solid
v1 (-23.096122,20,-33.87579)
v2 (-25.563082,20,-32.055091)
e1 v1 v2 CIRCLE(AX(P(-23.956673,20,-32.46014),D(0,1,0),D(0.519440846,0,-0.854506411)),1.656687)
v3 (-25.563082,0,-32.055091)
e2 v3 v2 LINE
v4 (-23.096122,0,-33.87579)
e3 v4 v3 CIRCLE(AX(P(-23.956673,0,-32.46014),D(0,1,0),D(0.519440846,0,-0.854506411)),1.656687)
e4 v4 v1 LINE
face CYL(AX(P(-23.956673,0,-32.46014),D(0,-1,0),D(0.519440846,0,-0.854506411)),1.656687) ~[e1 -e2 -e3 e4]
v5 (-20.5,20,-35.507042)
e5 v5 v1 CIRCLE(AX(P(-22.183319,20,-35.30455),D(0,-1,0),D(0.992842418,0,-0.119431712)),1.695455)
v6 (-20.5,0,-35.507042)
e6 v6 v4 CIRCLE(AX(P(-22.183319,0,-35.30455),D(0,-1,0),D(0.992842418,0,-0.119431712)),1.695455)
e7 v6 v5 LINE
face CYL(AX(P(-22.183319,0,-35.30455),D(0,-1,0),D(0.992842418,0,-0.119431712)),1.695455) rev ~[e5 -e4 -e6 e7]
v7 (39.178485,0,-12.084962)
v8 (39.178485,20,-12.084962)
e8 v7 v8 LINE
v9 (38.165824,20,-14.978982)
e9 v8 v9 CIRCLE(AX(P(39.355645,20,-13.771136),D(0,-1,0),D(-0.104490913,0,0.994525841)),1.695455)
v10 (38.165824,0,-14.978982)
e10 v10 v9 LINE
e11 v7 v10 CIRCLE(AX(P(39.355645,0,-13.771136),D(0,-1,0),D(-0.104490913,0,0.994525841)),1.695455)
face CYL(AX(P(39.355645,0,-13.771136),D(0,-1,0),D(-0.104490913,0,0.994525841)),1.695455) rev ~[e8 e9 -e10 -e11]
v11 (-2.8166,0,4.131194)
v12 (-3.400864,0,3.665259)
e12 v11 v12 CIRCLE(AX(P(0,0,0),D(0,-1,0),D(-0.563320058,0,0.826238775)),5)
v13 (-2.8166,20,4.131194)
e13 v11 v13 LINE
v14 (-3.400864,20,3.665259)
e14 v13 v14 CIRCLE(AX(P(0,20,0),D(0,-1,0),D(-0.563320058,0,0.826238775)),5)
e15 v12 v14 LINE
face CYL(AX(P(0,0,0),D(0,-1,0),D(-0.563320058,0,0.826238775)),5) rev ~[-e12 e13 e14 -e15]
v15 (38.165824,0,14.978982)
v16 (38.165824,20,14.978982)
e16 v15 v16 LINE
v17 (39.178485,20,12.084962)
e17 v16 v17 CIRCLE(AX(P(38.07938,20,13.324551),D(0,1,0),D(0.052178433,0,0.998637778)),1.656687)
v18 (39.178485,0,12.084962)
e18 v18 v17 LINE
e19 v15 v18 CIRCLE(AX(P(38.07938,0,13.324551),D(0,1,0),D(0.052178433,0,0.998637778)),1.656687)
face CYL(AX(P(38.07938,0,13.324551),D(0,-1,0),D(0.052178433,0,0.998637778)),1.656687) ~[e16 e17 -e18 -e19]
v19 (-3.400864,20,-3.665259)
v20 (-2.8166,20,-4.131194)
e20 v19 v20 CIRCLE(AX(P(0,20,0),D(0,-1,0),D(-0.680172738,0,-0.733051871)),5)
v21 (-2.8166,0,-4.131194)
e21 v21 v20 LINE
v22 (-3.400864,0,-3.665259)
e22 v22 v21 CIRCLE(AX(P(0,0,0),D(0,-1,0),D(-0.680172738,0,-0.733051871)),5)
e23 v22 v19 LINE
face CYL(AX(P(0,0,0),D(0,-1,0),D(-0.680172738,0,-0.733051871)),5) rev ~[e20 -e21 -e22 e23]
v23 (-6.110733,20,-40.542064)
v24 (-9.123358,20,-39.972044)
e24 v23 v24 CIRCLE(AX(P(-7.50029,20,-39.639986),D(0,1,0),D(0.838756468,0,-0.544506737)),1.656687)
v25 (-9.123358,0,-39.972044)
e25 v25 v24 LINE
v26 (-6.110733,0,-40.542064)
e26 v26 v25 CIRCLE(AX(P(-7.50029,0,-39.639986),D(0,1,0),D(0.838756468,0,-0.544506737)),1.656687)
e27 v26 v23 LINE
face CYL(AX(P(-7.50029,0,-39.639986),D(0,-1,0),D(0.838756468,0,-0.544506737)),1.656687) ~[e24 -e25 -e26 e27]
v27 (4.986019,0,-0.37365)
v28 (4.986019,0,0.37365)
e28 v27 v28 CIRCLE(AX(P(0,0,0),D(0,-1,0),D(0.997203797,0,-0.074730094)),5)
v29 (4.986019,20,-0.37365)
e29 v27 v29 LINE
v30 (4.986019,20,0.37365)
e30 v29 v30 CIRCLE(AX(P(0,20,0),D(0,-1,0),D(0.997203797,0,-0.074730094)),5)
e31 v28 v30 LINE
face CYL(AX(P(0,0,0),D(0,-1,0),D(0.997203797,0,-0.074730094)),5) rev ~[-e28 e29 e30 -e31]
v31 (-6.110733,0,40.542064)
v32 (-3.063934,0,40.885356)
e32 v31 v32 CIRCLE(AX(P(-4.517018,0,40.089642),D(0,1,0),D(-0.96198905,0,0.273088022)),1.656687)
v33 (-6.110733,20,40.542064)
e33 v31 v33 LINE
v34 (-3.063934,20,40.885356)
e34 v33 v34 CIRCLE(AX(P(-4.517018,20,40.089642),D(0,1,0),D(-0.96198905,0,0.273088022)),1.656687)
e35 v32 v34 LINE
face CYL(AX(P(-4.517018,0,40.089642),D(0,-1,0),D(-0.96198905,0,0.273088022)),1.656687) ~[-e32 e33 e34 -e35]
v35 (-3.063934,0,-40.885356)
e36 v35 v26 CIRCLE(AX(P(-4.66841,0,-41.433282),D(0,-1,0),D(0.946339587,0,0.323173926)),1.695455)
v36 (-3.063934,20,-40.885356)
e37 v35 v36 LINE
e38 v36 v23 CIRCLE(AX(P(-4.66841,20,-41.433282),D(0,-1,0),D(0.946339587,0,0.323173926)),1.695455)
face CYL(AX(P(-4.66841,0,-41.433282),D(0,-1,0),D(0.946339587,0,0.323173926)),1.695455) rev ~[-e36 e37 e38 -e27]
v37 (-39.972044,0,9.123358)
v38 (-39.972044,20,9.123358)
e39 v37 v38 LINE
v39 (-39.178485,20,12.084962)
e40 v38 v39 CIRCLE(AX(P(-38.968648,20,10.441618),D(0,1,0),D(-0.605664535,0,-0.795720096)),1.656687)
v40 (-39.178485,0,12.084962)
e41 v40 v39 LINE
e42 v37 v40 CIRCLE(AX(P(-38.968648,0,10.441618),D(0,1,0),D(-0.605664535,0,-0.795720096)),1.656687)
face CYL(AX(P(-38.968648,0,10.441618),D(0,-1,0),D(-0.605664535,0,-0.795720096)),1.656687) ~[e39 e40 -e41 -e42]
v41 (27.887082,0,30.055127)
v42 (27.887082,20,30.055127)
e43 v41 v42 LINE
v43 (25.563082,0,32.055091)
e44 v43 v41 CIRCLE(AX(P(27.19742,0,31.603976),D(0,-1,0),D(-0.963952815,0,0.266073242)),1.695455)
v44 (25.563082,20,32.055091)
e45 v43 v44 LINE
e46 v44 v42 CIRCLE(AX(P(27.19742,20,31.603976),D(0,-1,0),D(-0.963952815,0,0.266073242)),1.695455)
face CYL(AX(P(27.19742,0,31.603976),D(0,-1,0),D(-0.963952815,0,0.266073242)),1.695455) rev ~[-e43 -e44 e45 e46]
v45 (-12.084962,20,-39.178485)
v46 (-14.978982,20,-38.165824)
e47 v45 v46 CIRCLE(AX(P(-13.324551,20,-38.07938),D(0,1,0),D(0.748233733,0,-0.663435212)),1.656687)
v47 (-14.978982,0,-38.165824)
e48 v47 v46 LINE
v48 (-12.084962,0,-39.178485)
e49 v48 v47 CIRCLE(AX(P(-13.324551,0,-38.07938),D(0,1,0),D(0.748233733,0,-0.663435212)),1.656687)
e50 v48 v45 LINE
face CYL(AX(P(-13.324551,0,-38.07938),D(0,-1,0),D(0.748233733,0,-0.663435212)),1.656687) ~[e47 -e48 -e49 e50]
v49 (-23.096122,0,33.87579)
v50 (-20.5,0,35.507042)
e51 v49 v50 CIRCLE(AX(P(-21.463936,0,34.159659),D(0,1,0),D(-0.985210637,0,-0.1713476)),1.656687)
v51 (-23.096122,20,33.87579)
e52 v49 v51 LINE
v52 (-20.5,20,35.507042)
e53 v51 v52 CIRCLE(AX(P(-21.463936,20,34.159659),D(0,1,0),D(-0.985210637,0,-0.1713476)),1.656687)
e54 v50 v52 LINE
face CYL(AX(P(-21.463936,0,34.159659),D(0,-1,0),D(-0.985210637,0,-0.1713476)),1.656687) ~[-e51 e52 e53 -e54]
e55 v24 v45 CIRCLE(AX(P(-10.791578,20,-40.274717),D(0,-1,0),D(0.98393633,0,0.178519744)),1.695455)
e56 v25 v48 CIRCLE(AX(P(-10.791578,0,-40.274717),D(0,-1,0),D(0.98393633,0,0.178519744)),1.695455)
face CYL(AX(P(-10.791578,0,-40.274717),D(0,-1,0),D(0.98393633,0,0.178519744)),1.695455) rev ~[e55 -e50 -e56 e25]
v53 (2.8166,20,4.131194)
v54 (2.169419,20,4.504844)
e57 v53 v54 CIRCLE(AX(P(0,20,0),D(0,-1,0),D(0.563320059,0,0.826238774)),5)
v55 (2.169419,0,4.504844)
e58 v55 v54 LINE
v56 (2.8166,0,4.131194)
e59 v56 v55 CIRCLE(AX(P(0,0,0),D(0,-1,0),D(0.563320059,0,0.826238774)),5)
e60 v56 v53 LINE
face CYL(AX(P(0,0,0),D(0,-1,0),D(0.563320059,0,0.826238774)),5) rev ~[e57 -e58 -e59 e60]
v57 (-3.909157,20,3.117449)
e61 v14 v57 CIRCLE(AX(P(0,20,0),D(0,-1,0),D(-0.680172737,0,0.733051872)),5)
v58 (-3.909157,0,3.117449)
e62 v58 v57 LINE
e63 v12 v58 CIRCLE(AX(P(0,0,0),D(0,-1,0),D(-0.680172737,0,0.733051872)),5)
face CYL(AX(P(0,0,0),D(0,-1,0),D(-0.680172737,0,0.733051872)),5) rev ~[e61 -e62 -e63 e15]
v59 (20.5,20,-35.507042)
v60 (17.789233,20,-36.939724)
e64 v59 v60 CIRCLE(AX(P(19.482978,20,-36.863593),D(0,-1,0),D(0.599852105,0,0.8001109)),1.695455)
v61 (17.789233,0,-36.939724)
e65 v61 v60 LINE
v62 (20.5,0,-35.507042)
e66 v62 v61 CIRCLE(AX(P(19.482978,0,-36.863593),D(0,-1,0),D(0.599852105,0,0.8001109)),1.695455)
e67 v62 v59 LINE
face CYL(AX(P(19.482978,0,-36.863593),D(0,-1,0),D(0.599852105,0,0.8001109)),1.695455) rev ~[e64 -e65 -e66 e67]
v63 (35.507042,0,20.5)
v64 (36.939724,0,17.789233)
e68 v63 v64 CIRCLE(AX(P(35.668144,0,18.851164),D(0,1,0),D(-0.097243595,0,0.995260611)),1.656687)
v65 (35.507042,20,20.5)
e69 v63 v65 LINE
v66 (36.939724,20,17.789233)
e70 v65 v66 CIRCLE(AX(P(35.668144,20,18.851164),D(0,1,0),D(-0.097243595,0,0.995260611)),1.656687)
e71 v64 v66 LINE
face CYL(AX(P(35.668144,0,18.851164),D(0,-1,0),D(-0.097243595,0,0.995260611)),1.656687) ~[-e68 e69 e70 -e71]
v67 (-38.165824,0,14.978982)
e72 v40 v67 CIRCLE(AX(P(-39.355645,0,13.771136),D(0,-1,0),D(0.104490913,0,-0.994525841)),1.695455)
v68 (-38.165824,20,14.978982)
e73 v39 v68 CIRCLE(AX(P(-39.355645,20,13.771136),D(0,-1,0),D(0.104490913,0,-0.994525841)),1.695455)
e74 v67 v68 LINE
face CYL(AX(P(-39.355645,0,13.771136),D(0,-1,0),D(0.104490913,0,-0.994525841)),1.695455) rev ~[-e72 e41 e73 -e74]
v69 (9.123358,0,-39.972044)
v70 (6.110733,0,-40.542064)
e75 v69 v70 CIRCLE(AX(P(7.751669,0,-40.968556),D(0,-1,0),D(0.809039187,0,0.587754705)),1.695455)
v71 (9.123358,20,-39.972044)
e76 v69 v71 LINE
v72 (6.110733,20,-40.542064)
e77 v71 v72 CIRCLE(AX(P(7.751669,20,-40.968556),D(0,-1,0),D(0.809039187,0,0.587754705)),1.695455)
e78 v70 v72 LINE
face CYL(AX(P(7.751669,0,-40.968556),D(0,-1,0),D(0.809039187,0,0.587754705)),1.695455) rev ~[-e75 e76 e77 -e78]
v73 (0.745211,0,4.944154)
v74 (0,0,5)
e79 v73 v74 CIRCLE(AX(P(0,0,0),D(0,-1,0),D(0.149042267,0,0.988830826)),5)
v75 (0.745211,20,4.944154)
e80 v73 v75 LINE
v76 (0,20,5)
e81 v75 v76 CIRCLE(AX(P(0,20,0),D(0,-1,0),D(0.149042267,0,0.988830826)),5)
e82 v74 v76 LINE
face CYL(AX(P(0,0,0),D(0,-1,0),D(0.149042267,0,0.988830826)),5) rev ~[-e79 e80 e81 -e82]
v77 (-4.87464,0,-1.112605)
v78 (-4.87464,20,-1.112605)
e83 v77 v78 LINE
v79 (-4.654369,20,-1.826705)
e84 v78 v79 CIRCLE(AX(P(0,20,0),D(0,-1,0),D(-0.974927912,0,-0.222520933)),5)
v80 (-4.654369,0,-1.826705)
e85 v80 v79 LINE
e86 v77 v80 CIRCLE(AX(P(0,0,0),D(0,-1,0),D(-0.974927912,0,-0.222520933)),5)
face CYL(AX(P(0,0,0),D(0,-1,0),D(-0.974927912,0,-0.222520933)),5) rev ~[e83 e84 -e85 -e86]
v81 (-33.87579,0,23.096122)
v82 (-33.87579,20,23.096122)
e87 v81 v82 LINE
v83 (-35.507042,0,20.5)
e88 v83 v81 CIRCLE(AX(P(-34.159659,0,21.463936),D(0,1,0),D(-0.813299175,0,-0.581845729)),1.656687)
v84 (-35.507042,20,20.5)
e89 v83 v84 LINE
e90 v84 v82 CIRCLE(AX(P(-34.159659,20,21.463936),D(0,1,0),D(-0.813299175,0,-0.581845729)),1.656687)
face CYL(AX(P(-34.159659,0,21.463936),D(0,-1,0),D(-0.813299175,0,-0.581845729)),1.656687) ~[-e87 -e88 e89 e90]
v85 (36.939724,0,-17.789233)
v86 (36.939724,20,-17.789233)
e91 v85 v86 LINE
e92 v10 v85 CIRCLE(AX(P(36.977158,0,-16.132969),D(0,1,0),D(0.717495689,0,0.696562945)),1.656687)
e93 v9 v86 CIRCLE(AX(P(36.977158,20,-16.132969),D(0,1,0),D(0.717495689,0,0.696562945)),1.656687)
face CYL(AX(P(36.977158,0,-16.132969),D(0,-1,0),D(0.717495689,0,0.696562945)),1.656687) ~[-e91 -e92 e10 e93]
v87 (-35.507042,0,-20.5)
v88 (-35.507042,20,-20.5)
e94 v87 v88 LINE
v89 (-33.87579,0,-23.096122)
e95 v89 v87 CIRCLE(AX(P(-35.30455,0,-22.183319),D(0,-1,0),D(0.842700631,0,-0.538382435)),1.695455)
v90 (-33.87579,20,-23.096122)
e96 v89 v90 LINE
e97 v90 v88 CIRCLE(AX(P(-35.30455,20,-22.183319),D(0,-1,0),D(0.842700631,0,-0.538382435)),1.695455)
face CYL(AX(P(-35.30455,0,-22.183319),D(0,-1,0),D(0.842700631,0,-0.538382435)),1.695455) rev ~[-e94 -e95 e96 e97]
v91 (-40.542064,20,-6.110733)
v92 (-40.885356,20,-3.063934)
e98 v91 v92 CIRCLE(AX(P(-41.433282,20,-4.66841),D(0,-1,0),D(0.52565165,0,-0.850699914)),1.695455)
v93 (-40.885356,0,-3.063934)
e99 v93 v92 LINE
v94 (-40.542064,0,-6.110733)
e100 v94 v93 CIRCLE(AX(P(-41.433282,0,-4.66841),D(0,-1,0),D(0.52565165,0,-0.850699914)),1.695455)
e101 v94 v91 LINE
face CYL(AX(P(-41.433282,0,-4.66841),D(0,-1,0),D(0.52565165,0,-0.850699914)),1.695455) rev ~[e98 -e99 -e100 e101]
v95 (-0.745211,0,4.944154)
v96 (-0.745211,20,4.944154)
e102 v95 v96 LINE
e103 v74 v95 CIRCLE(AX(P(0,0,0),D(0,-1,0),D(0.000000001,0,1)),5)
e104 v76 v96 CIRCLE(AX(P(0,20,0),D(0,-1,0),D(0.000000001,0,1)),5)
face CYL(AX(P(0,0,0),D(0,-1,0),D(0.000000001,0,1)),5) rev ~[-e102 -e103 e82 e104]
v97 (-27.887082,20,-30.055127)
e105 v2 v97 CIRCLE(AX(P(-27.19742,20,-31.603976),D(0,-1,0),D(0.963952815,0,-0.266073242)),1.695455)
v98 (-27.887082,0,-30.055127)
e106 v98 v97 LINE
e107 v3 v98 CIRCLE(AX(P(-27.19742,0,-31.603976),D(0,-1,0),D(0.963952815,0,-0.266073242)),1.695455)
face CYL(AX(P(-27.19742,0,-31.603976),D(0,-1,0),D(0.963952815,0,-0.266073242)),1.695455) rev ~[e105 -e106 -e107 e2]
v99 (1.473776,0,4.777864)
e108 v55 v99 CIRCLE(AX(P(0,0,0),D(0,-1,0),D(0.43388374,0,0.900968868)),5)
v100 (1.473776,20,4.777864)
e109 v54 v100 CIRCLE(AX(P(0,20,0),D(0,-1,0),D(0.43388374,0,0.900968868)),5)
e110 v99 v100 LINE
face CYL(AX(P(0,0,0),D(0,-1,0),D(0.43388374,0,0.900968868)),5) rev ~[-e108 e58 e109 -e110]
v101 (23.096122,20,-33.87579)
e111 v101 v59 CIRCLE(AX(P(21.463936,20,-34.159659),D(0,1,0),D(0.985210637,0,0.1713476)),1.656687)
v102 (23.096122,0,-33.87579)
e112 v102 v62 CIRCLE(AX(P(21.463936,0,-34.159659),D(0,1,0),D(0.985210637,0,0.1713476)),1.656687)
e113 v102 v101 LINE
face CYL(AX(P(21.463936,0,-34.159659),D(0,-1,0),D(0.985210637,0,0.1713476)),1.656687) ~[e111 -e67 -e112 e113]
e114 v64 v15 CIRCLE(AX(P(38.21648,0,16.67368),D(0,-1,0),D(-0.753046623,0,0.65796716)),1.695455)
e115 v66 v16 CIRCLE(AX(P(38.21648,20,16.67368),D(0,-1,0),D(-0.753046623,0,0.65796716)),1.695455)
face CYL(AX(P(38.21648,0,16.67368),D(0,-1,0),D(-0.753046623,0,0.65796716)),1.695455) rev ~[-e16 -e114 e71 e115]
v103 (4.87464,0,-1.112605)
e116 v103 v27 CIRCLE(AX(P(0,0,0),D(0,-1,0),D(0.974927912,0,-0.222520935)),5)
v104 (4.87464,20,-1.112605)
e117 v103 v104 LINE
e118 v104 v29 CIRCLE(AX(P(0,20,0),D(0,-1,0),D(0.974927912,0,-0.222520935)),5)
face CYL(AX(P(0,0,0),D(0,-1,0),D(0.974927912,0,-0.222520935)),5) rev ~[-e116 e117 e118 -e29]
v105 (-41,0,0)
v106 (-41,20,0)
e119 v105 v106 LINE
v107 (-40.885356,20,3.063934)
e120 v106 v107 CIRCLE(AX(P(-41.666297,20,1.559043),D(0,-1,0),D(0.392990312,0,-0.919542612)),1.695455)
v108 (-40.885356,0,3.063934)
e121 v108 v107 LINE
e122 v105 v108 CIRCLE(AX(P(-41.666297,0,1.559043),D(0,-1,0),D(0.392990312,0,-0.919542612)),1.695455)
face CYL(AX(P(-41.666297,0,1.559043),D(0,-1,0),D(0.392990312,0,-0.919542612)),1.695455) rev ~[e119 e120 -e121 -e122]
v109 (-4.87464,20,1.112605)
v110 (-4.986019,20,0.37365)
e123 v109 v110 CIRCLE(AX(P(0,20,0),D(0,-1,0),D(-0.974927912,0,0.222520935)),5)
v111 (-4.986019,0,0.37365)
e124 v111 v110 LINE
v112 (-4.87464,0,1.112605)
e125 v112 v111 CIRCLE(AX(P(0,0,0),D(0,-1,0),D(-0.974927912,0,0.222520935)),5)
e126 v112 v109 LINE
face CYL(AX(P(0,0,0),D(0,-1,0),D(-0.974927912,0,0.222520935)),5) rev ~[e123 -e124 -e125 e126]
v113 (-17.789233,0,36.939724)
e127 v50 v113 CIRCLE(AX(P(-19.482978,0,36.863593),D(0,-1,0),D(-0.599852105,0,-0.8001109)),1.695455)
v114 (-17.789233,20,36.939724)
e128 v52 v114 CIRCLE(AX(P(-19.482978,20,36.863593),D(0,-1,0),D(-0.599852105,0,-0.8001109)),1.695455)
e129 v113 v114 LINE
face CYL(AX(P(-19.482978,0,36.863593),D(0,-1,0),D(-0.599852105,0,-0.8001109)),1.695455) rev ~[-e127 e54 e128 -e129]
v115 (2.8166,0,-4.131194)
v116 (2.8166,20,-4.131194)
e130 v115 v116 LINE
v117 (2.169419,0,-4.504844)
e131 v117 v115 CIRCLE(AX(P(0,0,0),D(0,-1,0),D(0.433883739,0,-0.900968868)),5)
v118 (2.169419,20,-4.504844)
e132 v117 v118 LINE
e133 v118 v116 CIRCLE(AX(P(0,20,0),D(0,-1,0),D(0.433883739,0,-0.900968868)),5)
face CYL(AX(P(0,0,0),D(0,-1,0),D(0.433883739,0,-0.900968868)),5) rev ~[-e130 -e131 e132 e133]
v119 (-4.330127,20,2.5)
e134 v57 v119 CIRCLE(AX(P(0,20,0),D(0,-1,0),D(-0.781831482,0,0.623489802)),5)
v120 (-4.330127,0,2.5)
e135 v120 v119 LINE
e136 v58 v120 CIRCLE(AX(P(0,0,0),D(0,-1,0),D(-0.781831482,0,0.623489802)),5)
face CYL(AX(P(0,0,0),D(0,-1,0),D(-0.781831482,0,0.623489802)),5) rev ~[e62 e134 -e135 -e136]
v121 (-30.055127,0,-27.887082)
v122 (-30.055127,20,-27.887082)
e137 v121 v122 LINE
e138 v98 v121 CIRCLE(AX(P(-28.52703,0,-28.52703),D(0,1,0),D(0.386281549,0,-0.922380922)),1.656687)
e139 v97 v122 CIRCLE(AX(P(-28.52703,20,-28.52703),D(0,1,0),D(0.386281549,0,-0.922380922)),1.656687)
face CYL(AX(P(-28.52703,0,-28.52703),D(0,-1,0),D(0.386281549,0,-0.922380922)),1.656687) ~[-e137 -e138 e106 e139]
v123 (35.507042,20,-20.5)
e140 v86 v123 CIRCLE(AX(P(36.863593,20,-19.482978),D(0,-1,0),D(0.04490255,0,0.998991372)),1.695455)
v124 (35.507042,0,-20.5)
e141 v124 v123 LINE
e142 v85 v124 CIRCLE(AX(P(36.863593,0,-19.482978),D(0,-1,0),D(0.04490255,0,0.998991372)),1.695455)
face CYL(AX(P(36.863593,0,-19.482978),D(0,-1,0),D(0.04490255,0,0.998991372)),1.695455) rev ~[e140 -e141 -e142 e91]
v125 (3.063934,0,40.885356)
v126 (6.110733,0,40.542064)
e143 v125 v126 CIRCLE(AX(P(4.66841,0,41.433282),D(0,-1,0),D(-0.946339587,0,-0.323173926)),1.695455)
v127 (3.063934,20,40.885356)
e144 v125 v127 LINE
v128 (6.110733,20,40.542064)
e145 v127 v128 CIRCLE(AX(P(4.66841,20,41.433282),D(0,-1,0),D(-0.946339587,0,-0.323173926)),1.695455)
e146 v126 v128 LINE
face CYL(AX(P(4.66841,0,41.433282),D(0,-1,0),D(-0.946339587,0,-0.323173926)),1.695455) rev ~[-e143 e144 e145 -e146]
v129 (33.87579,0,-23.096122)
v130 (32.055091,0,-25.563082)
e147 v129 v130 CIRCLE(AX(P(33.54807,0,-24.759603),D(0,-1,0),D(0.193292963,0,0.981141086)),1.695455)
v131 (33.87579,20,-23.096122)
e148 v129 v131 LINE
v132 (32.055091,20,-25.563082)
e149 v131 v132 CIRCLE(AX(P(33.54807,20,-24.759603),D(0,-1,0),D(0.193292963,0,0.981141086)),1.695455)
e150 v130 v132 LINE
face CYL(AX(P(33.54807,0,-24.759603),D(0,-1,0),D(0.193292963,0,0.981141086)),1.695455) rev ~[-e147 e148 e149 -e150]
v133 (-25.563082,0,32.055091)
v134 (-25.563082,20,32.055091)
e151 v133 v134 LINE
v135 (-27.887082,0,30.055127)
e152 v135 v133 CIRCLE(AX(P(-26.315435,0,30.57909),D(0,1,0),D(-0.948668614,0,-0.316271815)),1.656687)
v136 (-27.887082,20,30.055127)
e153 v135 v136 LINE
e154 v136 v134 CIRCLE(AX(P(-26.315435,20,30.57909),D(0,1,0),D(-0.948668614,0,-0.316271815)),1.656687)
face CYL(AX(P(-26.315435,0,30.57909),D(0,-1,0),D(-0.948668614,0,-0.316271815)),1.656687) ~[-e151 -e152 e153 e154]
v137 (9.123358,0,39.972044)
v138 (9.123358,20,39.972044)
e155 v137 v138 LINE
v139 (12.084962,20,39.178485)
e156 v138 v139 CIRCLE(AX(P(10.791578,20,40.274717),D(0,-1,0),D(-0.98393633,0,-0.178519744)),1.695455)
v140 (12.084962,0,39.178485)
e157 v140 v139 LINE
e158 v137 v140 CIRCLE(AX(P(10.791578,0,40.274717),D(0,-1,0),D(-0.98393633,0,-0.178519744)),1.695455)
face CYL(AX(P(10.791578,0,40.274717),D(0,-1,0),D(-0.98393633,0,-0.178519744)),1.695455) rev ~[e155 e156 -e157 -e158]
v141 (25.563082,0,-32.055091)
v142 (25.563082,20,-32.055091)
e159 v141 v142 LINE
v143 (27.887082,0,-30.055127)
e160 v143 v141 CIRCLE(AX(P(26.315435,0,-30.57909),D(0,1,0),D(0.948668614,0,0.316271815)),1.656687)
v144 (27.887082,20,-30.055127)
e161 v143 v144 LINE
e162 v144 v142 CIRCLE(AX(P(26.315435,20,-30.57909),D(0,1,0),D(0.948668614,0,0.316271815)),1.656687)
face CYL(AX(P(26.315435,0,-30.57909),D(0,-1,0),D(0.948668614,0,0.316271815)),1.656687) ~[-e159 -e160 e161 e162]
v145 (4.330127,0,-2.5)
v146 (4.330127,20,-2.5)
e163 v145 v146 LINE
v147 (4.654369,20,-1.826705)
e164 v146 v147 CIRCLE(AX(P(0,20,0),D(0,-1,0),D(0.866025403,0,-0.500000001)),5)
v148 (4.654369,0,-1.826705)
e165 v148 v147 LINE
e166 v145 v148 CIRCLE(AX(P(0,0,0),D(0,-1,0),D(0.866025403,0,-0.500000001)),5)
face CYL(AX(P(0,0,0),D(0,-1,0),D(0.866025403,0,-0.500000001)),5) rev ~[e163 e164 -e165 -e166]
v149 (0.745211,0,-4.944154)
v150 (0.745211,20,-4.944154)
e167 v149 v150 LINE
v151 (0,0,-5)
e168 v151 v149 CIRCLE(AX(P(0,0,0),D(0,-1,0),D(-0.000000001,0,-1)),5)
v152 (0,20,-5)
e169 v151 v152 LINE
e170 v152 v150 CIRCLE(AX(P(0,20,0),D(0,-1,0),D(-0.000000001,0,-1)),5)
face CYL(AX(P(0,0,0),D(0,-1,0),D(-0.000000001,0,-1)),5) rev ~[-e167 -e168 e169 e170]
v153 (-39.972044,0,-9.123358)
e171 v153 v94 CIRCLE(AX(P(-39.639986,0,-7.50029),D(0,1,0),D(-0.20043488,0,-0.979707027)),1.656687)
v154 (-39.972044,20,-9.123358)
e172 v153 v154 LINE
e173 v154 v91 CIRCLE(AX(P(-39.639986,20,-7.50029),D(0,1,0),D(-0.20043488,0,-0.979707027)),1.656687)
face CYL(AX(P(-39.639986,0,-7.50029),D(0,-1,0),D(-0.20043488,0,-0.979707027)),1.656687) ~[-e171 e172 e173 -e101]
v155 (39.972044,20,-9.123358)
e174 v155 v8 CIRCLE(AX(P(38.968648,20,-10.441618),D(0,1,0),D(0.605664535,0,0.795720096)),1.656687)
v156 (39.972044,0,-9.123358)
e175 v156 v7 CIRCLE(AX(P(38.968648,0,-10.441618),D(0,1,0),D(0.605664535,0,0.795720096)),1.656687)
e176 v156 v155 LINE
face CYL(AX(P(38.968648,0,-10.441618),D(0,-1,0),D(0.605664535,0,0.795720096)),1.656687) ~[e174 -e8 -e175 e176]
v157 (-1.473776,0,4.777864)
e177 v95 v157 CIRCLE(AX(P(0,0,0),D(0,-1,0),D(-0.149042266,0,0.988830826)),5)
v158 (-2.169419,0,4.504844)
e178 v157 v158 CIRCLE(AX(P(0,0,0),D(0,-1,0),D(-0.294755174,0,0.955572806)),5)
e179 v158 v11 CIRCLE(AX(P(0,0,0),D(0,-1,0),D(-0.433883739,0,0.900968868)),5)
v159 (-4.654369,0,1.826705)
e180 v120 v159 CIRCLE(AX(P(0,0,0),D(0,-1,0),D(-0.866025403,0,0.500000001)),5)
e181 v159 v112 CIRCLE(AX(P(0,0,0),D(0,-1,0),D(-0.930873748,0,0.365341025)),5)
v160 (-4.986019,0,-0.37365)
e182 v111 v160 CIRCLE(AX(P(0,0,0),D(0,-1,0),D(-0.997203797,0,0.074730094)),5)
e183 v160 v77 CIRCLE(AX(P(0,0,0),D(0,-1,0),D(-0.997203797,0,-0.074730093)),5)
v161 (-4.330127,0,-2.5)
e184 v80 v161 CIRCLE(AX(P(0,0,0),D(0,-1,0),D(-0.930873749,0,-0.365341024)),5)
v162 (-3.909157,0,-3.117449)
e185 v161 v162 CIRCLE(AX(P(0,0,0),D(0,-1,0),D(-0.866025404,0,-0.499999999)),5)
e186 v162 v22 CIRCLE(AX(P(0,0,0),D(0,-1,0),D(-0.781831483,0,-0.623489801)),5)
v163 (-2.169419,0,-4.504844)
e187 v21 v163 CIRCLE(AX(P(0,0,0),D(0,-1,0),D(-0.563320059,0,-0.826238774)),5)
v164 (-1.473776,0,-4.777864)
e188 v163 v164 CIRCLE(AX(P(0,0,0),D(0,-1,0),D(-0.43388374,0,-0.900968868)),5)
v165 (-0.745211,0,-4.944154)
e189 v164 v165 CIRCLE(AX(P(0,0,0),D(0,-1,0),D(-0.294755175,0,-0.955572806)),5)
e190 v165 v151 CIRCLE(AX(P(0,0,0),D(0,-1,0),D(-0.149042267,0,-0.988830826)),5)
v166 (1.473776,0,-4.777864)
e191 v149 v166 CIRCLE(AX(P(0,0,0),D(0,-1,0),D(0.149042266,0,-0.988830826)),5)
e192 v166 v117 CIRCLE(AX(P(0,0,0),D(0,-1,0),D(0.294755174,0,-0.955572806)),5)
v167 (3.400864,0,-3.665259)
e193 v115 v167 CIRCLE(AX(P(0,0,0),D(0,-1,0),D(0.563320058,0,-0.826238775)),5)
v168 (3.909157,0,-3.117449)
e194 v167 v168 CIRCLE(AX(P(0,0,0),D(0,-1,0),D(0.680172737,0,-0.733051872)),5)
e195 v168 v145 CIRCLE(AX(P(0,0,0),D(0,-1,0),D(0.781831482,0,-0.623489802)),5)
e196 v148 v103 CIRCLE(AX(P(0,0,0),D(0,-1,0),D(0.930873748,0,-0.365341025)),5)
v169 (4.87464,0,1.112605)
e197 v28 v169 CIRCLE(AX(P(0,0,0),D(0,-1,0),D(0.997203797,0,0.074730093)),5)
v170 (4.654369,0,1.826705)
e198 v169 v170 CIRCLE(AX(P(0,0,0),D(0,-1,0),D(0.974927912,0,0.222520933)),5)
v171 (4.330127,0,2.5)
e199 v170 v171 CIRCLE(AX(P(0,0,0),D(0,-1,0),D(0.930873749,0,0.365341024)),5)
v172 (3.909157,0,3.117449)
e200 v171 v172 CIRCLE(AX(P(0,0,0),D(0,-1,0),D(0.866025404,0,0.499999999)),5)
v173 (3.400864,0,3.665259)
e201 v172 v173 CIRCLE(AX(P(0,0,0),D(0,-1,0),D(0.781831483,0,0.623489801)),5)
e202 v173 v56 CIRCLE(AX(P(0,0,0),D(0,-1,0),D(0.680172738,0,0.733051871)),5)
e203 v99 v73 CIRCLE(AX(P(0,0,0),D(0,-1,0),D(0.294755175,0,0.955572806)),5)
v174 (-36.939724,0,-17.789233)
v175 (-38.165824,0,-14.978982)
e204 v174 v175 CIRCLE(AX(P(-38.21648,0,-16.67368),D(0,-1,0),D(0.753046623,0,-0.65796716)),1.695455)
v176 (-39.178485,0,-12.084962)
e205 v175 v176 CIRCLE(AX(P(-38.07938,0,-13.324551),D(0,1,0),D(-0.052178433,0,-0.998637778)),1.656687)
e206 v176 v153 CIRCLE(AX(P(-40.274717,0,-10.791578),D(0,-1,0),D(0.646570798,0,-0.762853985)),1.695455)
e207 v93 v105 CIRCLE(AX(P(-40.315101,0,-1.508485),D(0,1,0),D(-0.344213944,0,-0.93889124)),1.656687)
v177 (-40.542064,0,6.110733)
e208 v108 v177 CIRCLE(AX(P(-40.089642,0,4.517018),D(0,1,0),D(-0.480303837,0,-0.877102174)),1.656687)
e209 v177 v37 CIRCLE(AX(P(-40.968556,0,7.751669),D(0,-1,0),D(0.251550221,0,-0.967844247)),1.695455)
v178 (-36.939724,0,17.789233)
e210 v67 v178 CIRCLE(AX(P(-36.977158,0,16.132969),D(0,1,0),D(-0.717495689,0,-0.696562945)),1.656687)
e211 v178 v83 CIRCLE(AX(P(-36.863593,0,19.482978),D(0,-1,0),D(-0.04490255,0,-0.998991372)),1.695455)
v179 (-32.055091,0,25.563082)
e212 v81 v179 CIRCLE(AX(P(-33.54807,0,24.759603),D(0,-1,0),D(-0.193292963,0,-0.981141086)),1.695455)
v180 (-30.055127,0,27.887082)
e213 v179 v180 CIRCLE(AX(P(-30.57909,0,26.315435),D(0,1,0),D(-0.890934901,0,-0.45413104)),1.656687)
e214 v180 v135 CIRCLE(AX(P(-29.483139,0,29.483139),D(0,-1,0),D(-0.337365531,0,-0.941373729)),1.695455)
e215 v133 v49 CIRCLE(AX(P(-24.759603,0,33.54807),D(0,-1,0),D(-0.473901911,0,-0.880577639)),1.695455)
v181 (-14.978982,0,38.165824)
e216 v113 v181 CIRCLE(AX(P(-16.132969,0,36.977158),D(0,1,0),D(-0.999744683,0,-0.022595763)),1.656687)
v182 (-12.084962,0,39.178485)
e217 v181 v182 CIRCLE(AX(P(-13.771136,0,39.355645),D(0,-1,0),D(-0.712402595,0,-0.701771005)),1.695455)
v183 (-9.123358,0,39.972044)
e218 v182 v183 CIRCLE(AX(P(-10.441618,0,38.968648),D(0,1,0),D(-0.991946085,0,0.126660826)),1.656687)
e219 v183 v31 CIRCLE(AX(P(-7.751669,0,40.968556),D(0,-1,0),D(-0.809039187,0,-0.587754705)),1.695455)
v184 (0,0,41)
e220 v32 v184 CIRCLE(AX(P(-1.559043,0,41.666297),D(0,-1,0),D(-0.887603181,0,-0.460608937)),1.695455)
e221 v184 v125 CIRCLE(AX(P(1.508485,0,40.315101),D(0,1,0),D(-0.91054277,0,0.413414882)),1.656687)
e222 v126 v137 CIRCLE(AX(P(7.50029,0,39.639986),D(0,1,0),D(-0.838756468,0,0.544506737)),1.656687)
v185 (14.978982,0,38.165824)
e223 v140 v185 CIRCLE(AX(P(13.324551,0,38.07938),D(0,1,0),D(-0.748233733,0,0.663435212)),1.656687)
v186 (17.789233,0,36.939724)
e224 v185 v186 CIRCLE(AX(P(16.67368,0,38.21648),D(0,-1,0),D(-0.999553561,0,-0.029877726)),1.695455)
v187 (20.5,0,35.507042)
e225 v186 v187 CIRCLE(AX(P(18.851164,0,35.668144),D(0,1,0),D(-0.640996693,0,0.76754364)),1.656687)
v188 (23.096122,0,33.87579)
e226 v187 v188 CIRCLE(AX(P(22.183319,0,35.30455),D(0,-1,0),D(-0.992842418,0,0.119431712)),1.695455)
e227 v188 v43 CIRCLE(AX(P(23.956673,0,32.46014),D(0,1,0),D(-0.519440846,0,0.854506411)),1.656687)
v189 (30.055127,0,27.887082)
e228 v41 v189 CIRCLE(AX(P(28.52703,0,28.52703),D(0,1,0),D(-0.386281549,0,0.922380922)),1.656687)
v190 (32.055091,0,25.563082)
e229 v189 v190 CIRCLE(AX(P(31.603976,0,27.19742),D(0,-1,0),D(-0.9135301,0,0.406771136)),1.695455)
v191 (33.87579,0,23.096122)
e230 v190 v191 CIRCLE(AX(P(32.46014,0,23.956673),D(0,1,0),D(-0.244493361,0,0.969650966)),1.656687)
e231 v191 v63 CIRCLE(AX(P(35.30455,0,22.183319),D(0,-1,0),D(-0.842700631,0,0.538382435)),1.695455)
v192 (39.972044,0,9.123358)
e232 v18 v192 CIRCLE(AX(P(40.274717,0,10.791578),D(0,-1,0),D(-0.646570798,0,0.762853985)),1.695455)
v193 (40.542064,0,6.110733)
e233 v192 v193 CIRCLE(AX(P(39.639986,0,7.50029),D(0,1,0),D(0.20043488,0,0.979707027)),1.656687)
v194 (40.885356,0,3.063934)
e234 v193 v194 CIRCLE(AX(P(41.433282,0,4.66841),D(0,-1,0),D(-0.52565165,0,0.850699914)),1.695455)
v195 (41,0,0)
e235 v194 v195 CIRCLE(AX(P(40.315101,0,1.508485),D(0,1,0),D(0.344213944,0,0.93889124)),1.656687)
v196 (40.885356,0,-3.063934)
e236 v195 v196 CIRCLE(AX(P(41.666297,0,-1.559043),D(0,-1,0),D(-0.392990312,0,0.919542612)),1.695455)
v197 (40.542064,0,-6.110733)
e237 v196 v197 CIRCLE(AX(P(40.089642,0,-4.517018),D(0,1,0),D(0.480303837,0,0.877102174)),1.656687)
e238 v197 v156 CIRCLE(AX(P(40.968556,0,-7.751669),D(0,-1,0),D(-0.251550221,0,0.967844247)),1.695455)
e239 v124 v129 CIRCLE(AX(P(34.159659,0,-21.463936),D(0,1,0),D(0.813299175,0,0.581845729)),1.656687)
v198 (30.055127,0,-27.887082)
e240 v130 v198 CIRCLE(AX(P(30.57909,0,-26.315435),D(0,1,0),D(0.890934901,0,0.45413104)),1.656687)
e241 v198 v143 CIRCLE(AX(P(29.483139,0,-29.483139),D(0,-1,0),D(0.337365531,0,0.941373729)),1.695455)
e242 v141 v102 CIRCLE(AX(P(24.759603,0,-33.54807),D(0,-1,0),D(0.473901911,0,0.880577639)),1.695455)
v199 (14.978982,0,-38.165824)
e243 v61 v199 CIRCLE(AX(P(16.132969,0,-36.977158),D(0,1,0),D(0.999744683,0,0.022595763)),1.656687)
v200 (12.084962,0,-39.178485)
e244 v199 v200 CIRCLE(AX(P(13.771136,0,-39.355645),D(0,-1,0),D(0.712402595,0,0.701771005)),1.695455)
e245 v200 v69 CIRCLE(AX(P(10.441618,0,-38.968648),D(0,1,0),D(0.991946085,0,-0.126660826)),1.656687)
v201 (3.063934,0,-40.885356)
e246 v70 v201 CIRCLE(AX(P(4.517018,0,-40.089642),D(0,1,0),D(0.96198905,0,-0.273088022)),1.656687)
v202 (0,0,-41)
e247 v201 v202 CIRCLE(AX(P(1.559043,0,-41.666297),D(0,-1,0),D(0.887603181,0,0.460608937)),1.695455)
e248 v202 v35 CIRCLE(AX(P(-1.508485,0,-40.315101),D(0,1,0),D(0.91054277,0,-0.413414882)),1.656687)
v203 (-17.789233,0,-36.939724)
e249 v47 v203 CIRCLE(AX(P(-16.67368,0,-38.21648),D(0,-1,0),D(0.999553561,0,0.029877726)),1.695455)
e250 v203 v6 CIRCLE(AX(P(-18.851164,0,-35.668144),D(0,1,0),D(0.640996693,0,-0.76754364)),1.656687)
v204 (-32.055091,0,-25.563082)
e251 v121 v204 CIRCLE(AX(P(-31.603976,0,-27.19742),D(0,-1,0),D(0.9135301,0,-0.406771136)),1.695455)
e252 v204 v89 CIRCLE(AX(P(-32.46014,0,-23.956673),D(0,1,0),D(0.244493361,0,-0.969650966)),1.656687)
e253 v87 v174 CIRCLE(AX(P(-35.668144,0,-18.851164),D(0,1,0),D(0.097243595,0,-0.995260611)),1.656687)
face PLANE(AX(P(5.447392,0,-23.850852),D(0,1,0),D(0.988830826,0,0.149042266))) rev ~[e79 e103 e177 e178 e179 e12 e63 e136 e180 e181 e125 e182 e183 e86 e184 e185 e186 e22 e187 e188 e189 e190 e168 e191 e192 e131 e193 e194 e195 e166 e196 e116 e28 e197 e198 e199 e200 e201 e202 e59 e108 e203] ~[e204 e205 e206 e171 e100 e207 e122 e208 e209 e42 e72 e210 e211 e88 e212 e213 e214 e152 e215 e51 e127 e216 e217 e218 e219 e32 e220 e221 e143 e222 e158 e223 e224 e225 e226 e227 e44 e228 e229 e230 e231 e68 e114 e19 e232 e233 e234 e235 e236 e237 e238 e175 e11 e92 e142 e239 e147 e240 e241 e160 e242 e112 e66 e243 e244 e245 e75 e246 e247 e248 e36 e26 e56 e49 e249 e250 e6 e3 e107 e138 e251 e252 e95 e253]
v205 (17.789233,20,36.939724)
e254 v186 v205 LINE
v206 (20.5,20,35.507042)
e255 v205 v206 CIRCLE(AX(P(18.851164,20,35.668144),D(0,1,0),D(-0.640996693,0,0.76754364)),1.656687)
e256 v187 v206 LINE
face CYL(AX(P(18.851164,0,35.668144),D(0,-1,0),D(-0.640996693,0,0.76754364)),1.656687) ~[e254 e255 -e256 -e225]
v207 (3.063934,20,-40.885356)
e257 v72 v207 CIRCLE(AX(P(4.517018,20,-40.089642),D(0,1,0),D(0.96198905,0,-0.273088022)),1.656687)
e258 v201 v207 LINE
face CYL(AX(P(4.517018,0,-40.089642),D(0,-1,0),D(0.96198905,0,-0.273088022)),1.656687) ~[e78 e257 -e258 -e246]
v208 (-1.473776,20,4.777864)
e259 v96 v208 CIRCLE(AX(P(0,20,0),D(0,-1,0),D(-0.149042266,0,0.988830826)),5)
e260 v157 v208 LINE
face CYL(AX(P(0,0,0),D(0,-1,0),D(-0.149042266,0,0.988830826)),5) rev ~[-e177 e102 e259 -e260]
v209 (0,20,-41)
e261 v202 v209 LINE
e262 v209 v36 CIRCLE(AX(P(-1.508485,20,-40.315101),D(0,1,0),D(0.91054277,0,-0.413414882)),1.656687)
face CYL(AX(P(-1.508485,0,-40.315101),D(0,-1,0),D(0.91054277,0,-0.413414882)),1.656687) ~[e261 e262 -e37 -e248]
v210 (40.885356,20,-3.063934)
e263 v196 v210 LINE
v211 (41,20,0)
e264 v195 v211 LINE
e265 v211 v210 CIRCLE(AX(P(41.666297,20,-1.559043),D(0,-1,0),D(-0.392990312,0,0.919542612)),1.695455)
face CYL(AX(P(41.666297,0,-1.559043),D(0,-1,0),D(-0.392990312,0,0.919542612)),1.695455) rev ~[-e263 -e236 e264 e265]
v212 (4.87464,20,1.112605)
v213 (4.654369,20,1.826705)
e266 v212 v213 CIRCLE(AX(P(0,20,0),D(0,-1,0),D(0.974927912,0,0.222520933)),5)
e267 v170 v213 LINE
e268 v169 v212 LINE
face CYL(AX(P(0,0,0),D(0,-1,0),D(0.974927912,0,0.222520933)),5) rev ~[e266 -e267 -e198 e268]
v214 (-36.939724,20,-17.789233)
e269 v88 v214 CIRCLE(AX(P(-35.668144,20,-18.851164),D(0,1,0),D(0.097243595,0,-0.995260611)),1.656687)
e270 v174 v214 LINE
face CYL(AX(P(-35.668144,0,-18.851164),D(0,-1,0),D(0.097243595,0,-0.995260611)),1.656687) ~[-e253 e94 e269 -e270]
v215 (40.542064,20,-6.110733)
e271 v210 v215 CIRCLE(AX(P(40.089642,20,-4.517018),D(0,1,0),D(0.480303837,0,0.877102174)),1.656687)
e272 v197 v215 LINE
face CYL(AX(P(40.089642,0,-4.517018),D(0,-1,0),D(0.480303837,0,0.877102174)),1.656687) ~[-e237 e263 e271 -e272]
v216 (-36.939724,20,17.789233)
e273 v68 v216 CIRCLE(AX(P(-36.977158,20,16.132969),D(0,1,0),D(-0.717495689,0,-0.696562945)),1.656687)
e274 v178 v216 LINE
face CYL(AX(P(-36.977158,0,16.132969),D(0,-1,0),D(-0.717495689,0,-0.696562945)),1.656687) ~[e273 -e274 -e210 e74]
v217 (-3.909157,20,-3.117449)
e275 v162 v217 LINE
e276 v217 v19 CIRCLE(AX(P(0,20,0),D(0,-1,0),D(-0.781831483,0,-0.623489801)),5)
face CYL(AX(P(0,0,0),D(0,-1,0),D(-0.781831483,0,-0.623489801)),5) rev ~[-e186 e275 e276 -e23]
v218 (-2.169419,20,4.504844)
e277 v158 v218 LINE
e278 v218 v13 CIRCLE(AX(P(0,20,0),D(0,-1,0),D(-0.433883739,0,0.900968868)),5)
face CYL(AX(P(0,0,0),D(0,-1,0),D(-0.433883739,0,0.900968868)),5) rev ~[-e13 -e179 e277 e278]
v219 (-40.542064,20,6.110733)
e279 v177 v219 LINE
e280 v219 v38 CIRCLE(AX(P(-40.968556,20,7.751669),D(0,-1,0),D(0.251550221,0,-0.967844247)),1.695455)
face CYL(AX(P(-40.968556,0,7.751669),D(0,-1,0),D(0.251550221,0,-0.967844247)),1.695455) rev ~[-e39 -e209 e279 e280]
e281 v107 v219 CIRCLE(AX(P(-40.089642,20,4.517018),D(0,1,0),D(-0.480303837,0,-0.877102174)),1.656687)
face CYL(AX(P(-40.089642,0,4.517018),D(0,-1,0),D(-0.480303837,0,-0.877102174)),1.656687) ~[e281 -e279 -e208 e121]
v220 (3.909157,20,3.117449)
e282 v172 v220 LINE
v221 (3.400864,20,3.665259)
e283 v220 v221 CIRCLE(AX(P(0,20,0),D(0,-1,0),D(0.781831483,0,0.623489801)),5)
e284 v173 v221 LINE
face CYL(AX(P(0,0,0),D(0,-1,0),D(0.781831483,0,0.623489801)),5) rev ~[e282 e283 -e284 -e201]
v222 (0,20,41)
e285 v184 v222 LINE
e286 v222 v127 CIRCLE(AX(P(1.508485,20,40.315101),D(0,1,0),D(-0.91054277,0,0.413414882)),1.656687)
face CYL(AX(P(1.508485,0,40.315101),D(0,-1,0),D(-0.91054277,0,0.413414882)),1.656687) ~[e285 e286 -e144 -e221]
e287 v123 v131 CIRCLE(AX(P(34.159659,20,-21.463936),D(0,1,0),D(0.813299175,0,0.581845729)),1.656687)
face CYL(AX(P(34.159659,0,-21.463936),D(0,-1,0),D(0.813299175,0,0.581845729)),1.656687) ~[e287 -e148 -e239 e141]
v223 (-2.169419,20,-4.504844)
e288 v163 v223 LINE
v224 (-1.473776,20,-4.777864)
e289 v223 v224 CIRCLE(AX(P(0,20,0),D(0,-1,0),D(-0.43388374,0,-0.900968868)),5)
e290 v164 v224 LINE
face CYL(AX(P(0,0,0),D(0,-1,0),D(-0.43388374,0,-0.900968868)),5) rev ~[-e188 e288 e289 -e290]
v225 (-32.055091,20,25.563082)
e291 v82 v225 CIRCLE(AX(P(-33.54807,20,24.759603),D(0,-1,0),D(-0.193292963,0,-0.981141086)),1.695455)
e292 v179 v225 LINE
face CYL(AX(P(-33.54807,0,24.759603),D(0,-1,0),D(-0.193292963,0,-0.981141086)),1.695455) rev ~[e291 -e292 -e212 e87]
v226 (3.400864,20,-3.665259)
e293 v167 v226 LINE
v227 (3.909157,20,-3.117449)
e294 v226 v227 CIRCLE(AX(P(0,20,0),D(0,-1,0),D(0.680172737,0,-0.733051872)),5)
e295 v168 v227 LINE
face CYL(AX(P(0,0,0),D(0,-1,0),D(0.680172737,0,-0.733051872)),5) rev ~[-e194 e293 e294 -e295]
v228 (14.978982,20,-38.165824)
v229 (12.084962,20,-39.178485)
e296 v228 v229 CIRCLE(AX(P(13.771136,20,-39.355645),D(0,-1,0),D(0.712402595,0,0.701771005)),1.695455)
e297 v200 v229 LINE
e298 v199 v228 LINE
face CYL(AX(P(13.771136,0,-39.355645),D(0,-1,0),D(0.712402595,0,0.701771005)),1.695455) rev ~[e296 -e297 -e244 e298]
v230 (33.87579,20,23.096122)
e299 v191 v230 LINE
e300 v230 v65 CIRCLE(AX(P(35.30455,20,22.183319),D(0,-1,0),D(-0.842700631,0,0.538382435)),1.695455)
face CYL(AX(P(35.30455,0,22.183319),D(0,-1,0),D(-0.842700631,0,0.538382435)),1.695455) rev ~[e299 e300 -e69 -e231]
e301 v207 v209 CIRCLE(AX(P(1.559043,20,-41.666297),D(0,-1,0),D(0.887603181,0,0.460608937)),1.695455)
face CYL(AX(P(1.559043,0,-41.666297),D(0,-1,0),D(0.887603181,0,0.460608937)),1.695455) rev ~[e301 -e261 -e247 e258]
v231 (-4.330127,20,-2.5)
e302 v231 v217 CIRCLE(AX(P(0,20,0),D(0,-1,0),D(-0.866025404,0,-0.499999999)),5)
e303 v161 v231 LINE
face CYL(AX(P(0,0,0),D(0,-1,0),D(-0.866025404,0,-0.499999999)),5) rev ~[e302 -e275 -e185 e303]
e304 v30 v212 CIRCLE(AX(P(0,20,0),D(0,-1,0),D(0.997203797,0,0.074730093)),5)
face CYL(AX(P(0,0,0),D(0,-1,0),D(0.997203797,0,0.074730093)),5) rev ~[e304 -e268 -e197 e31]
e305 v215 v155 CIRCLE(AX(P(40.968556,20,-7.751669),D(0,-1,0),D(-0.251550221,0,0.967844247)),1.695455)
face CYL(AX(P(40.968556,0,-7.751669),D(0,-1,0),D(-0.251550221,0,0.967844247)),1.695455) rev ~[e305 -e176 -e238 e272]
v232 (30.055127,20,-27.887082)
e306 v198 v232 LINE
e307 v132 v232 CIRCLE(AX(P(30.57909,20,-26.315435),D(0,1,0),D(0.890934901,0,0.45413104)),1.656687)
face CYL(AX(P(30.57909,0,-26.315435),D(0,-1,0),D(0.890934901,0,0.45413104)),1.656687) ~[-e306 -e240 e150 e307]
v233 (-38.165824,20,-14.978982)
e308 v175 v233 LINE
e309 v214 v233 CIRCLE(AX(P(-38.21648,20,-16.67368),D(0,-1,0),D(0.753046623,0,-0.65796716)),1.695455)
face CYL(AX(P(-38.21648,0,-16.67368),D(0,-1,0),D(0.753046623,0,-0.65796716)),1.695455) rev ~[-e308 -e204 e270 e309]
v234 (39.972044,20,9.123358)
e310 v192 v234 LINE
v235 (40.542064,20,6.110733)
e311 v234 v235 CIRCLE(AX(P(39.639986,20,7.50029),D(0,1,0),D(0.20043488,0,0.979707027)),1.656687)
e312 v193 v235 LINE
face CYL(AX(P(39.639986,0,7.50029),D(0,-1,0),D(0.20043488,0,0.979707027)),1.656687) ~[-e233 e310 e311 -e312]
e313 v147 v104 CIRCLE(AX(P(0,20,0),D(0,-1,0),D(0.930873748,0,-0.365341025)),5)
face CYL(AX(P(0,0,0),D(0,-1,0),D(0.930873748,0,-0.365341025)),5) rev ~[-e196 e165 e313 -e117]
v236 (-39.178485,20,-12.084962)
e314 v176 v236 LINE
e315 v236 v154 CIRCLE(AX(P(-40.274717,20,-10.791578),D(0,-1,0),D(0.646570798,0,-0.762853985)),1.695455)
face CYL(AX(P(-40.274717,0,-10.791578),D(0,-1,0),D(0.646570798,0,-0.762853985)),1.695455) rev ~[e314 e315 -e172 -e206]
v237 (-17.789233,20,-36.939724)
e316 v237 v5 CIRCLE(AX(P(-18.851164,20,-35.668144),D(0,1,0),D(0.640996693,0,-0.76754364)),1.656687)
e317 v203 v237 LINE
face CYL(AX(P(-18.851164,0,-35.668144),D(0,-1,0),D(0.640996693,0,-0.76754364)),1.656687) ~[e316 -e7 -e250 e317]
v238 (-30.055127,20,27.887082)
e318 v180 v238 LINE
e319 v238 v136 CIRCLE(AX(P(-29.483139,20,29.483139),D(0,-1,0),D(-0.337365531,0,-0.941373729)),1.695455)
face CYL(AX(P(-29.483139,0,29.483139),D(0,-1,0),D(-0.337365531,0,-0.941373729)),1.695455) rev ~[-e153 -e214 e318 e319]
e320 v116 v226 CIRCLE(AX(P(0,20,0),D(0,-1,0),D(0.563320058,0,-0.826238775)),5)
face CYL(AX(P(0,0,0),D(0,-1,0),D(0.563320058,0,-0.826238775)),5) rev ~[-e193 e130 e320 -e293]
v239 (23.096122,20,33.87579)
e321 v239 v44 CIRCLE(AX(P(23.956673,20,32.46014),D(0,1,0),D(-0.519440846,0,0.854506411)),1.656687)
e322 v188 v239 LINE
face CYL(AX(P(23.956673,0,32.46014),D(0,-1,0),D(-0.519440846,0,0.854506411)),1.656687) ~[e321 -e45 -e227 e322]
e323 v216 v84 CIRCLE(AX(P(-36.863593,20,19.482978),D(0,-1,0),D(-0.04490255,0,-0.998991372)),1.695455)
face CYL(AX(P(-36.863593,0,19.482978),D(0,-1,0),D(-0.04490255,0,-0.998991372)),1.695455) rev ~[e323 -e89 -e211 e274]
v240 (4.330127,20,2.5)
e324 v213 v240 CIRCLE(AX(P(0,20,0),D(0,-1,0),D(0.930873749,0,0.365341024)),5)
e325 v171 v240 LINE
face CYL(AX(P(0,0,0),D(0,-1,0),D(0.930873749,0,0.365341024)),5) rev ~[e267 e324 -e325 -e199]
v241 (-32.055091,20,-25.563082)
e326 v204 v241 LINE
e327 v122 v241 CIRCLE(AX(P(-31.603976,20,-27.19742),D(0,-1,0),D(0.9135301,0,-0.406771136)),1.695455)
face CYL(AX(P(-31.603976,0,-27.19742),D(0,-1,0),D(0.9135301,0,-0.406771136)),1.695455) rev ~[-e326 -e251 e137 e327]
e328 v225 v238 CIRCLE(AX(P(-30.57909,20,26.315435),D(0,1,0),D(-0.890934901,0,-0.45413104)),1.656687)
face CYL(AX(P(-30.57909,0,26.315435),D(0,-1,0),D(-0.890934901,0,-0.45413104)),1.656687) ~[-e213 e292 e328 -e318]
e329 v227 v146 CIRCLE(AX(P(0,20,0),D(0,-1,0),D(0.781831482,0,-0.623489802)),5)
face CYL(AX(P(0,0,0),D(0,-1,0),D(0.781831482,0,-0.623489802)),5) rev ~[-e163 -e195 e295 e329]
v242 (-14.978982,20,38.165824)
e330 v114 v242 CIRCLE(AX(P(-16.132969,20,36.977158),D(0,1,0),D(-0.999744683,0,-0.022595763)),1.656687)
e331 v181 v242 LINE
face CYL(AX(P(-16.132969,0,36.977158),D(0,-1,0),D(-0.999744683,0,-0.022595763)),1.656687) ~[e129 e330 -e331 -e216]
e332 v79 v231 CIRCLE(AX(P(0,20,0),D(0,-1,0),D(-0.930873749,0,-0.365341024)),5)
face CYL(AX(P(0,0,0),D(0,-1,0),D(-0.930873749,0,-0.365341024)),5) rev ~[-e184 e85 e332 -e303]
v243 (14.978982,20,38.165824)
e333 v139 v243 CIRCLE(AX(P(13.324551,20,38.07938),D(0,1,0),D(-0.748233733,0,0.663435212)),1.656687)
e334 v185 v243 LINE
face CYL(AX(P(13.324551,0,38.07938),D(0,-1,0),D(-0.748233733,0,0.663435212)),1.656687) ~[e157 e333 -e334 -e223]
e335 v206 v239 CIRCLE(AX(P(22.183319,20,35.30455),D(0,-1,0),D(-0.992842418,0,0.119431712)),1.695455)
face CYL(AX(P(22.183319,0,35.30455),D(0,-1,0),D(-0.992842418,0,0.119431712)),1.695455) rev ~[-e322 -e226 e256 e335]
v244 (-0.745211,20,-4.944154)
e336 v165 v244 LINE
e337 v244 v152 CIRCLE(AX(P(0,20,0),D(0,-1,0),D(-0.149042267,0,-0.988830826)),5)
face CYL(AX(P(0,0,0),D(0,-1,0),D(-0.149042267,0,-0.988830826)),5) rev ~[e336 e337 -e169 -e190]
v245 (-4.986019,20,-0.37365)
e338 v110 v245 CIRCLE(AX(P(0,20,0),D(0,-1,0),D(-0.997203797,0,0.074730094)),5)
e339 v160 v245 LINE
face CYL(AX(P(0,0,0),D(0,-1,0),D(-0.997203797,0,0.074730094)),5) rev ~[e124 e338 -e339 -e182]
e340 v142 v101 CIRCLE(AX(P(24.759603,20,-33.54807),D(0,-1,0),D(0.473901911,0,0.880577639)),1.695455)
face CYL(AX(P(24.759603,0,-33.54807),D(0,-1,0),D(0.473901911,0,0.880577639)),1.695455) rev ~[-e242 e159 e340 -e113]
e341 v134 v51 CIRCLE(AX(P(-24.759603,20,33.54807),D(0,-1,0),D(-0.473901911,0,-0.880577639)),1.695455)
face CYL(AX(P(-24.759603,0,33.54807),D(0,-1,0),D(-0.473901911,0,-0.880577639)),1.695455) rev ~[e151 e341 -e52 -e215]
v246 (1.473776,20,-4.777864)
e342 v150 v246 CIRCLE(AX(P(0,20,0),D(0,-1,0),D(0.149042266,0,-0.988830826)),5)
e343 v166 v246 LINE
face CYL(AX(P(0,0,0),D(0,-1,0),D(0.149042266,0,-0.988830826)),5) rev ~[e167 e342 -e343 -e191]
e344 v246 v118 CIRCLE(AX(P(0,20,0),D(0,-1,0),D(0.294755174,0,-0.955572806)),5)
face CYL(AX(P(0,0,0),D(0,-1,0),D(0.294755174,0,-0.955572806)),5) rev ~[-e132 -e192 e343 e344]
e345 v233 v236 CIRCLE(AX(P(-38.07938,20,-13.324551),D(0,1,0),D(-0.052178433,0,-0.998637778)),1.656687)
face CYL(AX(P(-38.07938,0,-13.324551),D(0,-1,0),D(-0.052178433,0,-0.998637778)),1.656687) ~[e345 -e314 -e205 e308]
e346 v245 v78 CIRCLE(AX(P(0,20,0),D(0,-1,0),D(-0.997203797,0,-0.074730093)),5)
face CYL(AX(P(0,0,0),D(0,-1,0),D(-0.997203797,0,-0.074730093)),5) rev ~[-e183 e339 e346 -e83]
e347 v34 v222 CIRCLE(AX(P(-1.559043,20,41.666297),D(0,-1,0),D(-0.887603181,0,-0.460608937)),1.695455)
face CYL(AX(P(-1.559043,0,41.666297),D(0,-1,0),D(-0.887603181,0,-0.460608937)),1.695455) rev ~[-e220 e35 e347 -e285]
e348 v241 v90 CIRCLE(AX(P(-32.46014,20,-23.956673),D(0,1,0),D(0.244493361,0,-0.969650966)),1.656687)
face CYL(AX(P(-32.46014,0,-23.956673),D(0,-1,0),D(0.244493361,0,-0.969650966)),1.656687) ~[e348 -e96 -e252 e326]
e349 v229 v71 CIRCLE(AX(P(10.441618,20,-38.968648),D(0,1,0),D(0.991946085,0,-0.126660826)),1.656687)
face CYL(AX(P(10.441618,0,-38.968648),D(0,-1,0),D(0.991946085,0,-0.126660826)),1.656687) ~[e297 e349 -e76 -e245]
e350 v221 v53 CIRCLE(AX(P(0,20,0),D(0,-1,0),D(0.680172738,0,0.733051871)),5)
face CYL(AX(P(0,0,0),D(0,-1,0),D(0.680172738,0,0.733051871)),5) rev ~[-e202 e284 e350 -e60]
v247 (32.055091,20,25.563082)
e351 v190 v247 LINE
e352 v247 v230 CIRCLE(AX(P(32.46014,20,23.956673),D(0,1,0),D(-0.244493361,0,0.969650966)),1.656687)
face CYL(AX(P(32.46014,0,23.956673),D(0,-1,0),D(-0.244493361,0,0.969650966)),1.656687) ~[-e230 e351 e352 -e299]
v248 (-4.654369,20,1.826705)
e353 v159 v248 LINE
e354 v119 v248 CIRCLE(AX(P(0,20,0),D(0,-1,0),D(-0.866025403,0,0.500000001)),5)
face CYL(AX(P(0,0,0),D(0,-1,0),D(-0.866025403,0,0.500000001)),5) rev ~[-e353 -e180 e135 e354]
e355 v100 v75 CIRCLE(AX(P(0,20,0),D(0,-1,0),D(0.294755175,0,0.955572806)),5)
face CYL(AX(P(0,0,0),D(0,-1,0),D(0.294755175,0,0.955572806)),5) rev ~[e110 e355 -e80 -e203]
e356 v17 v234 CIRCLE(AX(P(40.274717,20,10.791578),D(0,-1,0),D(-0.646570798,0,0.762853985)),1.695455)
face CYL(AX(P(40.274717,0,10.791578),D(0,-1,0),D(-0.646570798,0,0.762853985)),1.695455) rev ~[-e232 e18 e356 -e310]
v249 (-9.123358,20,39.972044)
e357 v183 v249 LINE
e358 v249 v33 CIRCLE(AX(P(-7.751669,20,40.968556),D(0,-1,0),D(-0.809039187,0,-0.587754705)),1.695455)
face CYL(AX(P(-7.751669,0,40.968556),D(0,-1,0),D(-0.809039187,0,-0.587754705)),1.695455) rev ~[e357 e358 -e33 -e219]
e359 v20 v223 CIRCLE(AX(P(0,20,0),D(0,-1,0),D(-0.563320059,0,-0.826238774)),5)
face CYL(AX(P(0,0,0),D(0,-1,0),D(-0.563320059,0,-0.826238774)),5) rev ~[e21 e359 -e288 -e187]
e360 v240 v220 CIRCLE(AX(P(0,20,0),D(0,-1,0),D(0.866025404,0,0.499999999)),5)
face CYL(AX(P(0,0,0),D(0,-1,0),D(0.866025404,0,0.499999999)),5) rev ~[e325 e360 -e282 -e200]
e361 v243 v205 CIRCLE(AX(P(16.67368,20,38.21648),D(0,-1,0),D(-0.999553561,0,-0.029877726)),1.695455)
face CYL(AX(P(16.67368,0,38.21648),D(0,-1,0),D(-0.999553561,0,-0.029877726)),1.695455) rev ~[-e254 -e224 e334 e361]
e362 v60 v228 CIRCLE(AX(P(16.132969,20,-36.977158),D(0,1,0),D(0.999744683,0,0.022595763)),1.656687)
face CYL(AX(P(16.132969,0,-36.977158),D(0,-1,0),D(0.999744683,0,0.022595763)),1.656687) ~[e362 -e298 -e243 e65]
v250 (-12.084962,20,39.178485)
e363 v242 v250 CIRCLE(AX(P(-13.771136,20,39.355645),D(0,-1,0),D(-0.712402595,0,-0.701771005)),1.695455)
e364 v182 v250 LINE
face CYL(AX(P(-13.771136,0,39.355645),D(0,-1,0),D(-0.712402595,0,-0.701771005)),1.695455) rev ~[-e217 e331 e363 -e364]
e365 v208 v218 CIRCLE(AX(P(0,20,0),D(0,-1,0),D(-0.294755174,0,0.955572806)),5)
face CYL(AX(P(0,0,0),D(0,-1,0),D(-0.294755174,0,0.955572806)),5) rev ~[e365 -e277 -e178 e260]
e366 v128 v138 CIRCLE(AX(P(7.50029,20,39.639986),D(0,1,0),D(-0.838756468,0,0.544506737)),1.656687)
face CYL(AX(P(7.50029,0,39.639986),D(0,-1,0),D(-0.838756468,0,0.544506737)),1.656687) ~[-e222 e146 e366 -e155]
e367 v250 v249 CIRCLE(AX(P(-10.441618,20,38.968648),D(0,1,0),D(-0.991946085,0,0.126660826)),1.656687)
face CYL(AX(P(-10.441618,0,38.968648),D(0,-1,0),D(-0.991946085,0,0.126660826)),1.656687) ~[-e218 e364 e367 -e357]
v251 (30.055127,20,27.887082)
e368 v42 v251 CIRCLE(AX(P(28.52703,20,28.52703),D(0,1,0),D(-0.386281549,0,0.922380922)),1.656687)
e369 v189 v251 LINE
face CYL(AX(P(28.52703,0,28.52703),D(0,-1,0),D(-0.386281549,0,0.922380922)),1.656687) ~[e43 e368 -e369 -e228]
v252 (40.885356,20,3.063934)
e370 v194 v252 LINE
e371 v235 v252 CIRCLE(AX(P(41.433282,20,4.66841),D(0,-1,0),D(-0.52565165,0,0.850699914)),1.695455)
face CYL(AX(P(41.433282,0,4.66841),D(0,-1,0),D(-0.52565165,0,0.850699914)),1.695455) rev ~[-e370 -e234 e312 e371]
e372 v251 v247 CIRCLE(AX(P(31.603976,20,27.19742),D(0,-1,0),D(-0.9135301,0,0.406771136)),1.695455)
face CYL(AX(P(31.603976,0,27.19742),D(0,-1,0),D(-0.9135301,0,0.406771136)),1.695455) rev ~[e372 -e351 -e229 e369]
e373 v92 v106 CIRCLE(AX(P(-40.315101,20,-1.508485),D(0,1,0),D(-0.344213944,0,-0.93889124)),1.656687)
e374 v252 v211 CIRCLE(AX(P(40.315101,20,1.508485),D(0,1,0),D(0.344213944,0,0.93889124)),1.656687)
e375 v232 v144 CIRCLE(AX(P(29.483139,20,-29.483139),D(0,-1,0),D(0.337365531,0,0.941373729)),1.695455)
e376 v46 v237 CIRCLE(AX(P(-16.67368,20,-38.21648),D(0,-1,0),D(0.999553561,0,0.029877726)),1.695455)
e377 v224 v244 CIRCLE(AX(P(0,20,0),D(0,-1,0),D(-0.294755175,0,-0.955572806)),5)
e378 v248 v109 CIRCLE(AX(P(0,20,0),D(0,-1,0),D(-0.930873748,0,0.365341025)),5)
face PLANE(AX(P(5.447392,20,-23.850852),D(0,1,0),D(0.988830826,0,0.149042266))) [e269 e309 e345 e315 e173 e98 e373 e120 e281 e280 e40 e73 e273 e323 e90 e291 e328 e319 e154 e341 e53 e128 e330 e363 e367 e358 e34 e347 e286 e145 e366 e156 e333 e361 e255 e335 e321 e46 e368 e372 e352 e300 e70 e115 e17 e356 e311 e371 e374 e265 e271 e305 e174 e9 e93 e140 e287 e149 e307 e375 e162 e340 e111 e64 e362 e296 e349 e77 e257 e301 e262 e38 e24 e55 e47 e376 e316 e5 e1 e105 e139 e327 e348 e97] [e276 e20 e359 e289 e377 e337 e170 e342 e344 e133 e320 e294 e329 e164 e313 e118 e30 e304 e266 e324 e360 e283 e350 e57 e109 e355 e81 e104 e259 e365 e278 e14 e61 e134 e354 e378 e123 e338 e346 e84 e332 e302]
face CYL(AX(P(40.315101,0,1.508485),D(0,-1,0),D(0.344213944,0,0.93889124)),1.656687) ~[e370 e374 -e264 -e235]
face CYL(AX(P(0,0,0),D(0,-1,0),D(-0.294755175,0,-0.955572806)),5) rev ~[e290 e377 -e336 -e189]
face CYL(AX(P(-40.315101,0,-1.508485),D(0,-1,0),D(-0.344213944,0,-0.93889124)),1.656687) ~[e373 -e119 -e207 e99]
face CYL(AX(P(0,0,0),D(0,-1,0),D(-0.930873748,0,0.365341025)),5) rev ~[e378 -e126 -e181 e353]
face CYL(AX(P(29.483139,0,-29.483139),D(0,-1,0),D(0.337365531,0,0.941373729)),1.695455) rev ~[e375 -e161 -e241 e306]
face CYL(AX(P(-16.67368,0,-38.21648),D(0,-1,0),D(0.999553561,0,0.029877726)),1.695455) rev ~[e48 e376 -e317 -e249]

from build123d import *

# Parameters (mm, degrees)
BOSS_EXTRUDE1_DEPTH = 20
CIRPATTERN1_COUNT   = 42


with BuildPart() as part:
    # Sketch1 → Boss-Extrude1 (new body)
    with BuildSketch(Plane(origin=(0, 0, 0), x_dir=(1, 0, 0), z_dir=(0, 1, 0))):
        with BuildLine():
            Line((0, 41), (0, 5))
            ThreePointArc((0, 5), (0.373650468, 4.986018986), (0.745211331, 4.944154131))
            Line((0.745211331, 4.944154131), (6.110732913, 40.542063875))
            ThreePointArc((6.110732913, 40.542063875), (4.702507996, 41.735912816), (3.063933837, 40.885355684))
            ThreePointArc((3.063933837, 40.885355684), (1.495647771, 39.972028192), (0, 41))
        make_face()
    boss_extrude1 = extrude(amount=BOSS_EXTRUDE1_DEPTH)

    # CirPattern1: Boss-Extrude1 ×42 about axis
    cirpattern1_axis = Axis((0, 0, 0), (0, 1, 0))
    for i in range(1, CIRPATTERN1_COUNT):
        add(boss_extrude1.rotate(cirpattern1_axis, i * 360 / CIRPATTERN1_COUNT))


solid = part.part
